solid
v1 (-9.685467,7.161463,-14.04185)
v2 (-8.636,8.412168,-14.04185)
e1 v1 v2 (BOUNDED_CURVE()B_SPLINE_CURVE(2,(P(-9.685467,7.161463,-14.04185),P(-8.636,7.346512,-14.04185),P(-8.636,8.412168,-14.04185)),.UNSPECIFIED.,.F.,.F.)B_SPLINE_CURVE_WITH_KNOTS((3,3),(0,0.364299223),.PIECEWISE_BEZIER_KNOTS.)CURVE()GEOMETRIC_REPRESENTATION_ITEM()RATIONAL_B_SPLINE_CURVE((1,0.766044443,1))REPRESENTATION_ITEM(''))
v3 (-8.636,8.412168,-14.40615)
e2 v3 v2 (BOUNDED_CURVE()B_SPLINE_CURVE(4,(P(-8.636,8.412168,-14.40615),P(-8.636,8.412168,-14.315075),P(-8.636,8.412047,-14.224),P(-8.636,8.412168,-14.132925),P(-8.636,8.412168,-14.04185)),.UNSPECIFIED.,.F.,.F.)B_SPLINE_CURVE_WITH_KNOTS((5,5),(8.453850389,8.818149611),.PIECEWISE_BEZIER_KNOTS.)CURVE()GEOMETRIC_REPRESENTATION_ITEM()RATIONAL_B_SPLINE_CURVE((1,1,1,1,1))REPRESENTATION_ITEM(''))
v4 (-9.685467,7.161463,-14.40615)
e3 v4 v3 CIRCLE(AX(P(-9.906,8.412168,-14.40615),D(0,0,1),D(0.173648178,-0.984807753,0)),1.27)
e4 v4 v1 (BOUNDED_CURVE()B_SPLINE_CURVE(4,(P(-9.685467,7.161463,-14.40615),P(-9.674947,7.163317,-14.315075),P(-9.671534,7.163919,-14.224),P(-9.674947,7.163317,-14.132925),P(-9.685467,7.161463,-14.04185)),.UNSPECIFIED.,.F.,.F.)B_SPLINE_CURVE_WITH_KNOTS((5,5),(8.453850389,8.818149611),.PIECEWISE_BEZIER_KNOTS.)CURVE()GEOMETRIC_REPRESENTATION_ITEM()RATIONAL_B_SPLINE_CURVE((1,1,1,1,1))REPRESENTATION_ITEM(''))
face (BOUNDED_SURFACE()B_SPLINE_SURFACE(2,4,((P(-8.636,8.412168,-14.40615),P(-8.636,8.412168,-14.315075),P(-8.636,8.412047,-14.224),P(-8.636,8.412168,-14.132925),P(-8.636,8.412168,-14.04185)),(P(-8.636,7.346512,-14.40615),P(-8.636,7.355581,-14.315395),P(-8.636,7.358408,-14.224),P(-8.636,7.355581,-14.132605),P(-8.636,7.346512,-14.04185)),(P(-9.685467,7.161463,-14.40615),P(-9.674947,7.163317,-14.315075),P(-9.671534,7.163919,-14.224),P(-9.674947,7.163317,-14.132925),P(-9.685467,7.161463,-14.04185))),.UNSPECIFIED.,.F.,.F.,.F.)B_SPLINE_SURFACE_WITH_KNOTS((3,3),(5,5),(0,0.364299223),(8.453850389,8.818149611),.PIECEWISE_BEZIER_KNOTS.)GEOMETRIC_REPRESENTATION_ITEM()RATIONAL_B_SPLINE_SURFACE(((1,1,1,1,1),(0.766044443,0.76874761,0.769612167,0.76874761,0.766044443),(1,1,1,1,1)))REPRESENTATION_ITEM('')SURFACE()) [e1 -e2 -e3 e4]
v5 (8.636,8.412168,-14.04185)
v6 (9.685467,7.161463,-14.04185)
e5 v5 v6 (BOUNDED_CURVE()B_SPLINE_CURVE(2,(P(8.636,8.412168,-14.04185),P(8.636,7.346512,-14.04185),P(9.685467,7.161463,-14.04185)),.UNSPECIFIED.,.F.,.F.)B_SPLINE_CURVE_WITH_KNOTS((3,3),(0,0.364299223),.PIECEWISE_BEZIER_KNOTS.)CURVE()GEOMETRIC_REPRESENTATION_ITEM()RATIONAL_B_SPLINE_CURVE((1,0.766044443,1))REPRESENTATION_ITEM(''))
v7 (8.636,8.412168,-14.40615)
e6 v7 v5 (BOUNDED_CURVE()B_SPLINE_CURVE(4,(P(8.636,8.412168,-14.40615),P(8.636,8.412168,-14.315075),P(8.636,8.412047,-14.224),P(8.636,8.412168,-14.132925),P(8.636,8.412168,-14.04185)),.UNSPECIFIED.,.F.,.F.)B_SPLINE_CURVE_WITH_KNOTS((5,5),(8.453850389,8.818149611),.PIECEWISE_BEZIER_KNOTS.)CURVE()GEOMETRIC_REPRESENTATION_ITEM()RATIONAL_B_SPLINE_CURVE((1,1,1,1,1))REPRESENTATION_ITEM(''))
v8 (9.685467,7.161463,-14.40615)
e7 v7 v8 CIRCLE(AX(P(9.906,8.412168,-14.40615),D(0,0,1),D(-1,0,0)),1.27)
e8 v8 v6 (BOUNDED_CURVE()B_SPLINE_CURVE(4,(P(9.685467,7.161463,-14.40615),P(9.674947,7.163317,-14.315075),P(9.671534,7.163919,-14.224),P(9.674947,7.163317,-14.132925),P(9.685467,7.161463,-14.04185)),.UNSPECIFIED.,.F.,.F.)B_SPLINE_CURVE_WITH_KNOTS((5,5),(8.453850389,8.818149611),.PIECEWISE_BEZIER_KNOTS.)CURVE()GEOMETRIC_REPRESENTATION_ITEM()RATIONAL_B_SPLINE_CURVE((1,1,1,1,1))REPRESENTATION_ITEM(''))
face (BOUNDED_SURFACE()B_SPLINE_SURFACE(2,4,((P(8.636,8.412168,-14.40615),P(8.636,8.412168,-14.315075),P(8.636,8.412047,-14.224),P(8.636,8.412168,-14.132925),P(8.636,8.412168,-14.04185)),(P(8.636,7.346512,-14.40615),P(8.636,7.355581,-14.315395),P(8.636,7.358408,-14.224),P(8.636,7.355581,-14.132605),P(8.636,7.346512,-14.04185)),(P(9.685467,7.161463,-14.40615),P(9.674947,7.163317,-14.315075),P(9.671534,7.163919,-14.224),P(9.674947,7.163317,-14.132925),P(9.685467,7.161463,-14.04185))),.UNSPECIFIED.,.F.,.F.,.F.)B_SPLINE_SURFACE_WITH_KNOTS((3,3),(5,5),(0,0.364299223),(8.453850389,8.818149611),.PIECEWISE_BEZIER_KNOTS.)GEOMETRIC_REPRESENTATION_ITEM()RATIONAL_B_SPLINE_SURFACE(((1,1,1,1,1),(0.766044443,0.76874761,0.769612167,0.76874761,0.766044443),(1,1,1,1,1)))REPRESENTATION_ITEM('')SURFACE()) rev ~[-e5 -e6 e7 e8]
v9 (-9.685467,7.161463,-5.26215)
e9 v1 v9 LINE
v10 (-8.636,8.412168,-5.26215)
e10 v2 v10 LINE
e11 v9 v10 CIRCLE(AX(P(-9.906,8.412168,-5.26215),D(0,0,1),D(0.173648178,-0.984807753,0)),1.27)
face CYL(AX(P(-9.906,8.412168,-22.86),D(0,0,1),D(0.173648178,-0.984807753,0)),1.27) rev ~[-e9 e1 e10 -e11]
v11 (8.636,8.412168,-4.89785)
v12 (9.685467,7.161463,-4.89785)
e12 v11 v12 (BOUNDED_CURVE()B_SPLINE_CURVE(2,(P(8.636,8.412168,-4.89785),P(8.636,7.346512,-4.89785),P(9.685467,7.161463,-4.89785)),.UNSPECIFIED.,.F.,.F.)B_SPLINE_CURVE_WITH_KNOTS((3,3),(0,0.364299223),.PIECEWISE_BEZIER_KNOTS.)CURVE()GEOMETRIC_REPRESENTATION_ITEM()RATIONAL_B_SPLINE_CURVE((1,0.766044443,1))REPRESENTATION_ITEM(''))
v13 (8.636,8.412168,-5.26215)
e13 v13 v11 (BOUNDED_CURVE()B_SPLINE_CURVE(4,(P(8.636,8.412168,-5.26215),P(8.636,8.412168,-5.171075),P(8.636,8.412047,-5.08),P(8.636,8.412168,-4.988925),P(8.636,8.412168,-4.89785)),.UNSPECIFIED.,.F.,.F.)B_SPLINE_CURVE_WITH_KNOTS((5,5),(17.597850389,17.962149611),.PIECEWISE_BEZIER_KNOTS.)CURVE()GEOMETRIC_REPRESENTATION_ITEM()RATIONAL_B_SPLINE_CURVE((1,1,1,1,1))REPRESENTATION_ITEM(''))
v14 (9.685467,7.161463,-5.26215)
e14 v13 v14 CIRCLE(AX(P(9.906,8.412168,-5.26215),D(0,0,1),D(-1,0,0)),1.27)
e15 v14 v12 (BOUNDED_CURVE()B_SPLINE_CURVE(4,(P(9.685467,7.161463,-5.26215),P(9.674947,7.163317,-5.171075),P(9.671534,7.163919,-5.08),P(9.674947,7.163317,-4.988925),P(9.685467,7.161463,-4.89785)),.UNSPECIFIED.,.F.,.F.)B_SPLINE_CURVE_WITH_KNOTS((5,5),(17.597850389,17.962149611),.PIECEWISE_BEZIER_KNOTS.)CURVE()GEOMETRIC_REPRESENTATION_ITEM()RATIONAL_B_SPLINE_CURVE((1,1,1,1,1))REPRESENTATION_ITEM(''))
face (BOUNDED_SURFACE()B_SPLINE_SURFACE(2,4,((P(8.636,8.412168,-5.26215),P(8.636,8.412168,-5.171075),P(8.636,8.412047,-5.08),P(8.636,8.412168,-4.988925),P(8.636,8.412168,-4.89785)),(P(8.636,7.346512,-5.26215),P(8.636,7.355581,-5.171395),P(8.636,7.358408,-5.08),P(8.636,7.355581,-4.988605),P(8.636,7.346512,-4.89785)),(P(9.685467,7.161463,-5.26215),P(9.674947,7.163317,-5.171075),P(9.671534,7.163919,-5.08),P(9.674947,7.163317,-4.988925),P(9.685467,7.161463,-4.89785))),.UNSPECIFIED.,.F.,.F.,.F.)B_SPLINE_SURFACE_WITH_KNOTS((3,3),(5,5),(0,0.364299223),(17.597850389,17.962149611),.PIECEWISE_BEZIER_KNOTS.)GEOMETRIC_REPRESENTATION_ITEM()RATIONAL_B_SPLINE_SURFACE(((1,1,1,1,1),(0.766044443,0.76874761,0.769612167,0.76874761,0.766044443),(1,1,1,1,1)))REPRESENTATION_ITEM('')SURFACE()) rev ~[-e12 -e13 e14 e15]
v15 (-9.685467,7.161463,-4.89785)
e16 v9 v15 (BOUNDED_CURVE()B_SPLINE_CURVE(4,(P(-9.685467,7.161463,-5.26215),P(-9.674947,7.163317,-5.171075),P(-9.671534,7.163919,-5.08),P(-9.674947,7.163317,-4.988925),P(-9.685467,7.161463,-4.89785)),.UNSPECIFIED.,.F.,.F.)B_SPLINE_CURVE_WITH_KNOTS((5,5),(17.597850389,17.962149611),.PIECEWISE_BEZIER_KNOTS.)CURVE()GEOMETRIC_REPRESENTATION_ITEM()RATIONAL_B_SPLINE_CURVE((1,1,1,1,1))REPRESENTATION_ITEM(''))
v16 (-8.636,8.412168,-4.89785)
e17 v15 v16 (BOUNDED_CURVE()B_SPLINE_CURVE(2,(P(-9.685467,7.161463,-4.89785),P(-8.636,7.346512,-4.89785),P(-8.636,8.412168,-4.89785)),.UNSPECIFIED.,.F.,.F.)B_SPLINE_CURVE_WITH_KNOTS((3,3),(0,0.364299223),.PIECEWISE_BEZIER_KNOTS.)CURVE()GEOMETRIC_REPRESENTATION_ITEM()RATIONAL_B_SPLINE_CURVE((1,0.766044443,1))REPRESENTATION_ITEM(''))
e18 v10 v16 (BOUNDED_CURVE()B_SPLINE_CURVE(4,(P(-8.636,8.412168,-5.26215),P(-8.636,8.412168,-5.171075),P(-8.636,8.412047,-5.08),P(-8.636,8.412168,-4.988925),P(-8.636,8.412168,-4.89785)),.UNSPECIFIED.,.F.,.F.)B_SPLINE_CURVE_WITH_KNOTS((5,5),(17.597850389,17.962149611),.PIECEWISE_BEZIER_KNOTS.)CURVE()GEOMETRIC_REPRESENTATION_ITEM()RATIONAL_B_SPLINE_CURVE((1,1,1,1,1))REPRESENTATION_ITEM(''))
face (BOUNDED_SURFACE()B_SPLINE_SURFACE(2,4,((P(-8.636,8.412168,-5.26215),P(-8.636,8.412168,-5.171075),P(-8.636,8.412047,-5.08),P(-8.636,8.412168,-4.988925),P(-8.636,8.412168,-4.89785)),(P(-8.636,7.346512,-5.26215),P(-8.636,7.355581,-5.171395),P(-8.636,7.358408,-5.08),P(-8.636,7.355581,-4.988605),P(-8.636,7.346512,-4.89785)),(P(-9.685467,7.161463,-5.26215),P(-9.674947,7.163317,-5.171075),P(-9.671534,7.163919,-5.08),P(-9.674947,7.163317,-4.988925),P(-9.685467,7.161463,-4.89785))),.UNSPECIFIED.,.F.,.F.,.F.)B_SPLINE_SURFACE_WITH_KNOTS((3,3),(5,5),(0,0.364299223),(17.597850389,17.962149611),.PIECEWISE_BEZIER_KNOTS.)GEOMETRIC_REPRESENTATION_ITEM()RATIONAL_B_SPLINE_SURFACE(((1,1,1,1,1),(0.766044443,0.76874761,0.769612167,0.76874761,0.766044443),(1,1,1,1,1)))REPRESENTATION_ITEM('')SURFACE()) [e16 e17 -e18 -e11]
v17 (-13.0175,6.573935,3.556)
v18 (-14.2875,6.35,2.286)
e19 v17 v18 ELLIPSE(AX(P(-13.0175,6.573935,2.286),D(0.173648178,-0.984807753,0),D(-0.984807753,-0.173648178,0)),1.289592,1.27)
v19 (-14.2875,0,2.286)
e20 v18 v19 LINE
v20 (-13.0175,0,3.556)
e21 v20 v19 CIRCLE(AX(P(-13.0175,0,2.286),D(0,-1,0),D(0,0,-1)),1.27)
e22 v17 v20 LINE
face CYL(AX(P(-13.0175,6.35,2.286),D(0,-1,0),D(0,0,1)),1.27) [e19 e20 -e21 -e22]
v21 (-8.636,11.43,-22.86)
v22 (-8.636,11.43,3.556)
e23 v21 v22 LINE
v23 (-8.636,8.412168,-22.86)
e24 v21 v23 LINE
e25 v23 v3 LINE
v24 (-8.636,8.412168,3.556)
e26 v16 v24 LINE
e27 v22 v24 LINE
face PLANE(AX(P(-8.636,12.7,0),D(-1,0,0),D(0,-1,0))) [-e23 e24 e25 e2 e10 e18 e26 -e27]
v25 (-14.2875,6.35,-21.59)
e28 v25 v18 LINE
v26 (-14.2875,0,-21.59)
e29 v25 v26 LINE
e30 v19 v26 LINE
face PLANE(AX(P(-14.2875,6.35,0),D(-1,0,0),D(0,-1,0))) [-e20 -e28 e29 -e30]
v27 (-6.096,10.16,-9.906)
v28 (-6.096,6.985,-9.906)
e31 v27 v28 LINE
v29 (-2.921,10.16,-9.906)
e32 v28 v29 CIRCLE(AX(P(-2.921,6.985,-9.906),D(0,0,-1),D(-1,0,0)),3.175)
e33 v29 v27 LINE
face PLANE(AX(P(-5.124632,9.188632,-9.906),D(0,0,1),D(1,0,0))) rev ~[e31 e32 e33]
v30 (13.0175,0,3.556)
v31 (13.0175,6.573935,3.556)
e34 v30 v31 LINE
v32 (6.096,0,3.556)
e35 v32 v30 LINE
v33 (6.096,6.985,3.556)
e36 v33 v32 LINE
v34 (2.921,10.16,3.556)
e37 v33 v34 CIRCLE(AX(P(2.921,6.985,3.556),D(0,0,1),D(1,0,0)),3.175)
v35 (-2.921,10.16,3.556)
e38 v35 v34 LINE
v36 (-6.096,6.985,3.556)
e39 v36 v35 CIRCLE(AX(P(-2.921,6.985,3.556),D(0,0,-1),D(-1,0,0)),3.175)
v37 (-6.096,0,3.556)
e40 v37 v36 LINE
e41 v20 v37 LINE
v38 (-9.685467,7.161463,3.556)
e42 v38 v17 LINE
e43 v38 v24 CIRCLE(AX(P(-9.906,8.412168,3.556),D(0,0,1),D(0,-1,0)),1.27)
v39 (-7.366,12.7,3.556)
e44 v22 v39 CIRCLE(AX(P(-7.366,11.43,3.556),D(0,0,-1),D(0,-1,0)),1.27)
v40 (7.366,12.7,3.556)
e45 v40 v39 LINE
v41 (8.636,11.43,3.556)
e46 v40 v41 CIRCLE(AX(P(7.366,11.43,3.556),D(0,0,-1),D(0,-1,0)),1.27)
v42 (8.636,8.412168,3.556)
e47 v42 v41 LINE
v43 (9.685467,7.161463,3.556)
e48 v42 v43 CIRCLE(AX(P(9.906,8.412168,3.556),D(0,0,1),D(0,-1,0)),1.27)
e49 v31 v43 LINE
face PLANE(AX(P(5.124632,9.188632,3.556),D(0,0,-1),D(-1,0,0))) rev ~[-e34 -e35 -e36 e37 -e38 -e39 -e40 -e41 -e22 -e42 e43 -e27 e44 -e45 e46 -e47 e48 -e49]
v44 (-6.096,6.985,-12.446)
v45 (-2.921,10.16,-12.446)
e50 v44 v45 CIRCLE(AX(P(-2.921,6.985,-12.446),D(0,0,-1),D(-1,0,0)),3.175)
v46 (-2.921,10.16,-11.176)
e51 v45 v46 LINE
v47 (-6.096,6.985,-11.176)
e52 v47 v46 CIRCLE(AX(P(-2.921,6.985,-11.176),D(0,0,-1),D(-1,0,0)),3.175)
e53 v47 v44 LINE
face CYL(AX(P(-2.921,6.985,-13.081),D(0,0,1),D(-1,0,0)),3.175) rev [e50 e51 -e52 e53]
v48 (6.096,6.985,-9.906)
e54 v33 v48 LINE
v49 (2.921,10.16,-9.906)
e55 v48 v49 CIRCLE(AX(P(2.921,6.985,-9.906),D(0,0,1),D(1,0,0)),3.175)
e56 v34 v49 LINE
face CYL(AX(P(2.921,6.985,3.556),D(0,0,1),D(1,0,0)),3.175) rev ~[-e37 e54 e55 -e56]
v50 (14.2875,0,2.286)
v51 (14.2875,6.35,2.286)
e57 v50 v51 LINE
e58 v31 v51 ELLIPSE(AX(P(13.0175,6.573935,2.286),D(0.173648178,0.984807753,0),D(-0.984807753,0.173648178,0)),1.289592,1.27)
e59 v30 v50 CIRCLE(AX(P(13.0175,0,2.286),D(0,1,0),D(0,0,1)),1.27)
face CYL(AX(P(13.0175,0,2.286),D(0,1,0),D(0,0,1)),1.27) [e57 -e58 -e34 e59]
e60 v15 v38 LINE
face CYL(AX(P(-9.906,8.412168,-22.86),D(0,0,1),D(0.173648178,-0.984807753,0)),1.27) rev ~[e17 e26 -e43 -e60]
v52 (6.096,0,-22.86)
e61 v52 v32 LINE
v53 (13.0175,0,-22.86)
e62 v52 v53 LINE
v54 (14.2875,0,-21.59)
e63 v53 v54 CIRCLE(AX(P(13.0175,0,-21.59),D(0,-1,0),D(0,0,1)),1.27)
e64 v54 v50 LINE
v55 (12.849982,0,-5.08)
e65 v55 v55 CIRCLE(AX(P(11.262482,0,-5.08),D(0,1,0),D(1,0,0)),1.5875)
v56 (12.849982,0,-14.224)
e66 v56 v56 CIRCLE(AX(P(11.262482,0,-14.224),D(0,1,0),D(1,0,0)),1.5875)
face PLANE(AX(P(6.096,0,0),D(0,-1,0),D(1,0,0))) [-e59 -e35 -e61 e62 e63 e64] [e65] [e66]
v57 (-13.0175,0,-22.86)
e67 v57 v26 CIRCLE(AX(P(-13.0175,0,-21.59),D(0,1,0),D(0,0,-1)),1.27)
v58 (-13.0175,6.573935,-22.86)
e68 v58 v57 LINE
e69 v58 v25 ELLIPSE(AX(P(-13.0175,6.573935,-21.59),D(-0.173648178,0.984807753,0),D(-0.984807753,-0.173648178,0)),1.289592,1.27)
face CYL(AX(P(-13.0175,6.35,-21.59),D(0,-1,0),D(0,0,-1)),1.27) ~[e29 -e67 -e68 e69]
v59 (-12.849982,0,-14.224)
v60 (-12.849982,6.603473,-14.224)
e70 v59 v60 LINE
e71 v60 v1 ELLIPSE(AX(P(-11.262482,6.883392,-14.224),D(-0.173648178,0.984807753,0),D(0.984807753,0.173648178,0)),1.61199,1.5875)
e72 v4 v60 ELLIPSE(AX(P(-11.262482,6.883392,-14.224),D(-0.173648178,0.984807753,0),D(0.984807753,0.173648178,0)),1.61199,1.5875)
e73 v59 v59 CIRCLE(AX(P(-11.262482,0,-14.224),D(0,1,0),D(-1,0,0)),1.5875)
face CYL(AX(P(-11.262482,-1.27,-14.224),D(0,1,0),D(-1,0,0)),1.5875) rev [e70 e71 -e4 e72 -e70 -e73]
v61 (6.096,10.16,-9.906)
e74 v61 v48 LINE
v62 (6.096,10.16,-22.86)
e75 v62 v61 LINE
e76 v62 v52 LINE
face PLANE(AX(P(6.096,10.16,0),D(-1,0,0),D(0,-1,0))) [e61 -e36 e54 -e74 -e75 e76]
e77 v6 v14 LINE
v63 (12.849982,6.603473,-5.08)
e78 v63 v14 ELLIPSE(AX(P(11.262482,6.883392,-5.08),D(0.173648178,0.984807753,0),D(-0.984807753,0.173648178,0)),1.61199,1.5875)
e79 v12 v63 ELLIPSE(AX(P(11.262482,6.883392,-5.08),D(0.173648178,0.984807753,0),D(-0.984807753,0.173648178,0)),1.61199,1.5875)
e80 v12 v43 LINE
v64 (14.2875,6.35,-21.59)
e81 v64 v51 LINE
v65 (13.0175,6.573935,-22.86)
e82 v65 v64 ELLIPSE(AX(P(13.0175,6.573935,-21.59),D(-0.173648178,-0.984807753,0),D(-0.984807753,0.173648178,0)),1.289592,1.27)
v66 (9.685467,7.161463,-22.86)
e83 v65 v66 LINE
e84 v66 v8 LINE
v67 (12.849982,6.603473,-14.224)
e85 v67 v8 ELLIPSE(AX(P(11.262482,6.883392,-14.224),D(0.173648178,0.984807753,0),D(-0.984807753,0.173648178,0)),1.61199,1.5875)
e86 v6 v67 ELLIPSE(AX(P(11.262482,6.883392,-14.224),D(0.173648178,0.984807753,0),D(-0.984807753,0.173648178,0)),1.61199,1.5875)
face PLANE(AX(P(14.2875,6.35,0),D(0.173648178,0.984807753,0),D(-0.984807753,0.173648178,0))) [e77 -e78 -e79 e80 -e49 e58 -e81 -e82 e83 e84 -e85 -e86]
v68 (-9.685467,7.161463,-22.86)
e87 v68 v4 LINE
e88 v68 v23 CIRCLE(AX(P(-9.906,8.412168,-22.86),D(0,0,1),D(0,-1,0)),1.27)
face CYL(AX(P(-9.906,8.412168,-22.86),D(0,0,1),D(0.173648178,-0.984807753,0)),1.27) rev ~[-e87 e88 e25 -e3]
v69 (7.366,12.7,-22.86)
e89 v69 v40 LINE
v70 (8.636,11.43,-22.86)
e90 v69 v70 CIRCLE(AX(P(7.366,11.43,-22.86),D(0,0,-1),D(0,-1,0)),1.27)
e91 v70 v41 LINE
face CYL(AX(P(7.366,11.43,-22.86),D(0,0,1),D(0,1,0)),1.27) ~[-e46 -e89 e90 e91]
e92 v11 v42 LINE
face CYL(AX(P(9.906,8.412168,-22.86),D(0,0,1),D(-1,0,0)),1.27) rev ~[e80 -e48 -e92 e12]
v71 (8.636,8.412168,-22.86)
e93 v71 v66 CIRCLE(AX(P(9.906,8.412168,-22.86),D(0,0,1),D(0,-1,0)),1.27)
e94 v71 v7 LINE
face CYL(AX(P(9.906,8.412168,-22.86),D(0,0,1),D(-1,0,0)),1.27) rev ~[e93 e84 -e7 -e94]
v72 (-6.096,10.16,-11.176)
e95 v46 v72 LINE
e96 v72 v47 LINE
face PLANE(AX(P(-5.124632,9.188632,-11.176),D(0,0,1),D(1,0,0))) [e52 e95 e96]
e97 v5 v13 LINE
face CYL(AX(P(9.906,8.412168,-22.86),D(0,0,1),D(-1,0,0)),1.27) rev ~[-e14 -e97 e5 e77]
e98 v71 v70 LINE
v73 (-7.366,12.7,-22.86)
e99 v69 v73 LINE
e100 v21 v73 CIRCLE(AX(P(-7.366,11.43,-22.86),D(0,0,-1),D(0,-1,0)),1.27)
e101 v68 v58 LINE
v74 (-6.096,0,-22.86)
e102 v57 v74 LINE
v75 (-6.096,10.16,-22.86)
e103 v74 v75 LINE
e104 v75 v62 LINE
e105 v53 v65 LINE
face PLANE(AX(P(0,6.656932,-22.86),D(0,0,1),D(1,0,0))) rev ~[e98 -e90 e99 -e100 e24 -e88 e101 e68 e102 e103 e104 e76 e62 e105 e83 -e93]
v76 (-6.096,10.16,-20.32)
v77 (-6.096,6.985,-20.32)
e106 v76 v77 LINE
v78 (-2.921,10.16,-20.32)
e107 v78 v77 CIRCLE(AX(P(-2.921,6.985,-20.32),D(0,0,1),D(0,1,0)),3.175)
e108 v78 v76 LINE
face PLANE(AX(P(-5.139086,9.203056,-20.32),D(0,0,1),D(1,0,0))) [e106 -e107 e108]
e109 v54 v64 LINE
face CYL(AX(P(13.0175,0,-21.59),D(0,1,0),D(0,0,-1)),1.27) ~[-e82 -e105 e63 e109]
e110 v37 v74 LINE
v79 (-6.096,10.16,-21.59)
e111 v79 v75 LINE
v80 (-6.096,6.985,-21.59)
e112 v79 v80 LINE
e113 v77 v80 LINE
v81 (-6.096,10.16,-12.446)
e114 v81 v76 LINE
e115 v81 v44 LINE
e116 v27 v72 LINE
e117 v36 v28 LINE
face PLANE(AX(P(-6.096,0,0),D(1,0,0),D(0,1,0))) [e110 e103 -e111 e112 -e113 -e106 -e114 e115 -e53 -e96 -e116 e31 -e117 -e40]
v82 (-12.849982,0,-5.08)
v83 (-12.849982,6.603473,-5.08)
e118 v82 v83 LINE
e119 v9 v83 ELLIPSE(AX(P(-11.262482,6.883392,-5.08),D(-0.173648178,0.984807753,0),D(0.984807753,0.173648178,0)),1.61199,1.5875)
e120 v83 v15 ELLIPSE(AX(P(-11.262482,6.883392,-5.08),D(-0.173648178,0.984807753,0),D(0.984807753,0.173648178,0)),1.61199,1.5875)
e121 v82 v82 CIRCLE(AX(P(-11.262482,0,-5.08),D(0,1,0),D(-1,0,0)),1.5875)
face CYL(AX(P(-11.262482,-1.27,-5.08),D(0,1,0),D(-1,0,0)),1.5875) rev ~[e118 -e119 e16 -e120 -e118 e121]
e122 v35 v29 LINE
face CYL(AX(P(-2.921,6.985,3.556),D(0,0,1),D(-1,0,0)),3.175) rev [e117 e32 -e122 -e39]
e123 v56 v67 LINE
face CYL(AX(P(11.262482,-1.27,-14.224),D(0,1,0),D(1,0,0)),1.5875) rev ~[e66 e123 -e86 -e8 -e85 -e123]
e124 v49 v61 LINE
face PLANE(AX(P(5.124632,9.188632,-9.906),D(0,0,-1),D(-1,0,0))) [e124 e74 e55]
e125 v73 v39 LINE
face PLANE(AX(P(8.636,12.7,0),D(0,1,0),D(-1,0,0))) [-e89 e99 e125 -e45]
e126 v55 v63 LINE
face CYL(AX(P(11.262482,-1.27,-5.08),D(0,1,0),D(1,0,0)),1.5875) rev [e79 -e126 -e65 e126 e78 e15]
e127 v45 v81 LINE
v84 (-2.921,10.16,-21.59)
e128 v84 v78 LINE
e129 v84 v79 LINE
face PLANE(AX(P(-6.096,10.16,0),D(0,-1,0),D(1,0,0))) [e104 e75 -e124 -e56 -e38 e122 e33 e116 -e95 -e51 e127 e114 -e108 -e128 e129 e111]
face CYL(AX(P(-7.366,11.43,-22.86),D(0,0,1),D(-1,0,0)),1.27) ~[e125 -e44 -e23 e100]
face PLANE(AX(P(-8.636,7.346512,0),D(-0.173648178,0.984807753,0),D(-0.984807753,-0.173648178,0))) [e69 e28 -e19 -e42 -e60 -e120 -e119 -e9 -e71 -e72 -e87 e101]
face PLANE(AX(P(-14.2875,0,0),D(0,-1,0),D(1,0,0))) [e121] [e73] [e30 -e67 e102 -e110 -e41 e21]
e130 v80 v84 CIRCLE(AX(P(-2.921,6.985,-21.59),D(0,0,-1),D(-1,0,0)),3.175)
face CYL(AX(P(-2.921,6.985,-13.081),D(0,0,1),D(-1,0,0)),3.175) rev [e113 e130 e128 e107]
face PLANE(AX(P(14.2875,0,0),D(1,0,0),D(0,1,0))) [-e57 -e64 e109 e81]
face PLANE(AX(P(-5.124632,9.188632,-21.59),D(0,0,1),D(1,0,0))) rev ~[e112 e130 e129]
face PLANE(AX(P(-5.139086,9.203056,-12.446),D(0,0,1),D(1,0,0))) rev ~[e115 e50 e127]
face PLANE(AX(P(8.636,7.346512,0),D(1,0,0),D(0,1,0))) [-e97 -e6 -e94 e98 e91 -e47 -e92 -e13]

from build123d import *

# Parameters (mm, degrees)
BOSS_EXTRUDE1_DEPTH      = 3.556
BOSS_EXTRUDE1_DEPTH_BACK = 22.86
BOSS_EXTRUDE2_DEPTH      = 13.462
BOSS_EXTRUDE3_START      = -1.27
BOSS_EXTRUDE3_DEPTH      = 1.905
FILLET1_R                = 1.27
BOSS_EXTRUDE4_DEPTH      = 8.509
CUT_EXTRUDE1_DEPTH       = 7.874


with BuildPart() as part:
    # Sketch1 → Boss-Extrude1 (new body, two sides)
    with BuildSketch(Plane.XY) as boss_extrude1_sk:
        Polygon((-6.096, 10.16), (6.096, 10.16), (6.096, 0), (14.2875, 0), (14.2875, 6.35), (8.636, 7.346511931), (8.636, 12.7), (-8.636, 12.7), (-8.636, 7.346511931), (-14.2875, 6.35), (-14.2875, 0), (-6.096, 0), align=None)
    extrude(amount=BOSS_EXTRUDE1_DEPTH)
    extrude(boss_extrude1_sk.sketch, amount=-BOSS_EXTRUDE1_DEPTH_BACK)

    # Sketch2 → Boss-Extrude2 (add)
    with BuildSketch(Plane.XY.offset(3.556)):
        with BuildLine():
            Line((2.921, 10.16), (6.096, 10.16))
            Line((6.096, 10.16), (6.096, 6.985))
            ThreePointArc((6.096, 6.985), (5.16606403, 9.23006403), (2.921, 10.16))
        make_face()
        with BuildLine():
            Line((-6.096, 10.16), (-6.096, 6.985))
            ThreePointArc((-6.096, 6.985), (-5.16606403, 9.23006403), (-2.921, 10.16))
            Line((-2.921, 10.16), (-6.096, 10.16))
        make_face()
    extrude(amount=-BOSS_EXTRUDE2_DEPTH)

    # Sketch3 → Boss-Extrude3 (add)
    with BuildSketch(Plane.XY.offset(-9.906).offset(BOSS_EXTRUDE3_START)):
        with BuildLine():
            Line((-6.096, 10.16), (-6.096, 6.985))
            ThreePointArc((-6.096, 6.985), (-5.16606403, 9.23006403), (-2.921, 10.16))
            Line((-2.921, 10.16), (-6.096, 10.16))
        make_face()
    extrude(amount=-BOSS_EXTRUDE3_DEPTH)

    # Sketch6 → Cut-Revolve1 (revolve, cut)
    with BuildSketch(Plane.XY.offset(-5.08)):
        Polygon((11.262482277, -1.27), (12.849982277, -1.27), (12.849982277, 6.60347316), (12.849982277, 9.423392242), (11.262482277, 9.423392242), (11.262482277, 6.883392242), align=None)
    cut_revolve1 = revolve(axis=Axis((11.262482277, -1.27, -5.08), (0, -1, 0)), mode=Mode.SUBTRACT)

    # Mirror1: Cut-Revolve1 across plane
    add(cut_revolve1.mirror(Plane(origin=(0, 0, 0), x_dir=(0, 0, 1), z_dir=(1, 0, 0))), mode=Mode.SUBTRACT)

    # Mirror2: Cut-Revolve1 across plane
    add(cut_revolve1.mirror(Plane.XY.offset(-9.652)), mode=Mode.SUBTRACT)

    # Mirror2 copy 1 sketch → Mirror2 copy 1 (revolve, cut)
    with BuildSketch(Plane(origin=(0, 0, -14.224), x_dir=(-1, 0, 0), z_dir=(0, 0, -1))):
        Polygon((11.262482277, -1.27), (12.849982277, -1.27), (12.849982277, 6.60347316), (12.849982277, 9.423392242), (11.262482277, 9.423392242), (11.262482277, 6.883392242), align=None)
    revolve(axis=Axis((-11.262482277, -1.27, -14.224), (0, -1, 0)), mode=Mode.SUBTRACT)

    # Fillet1
    fillet1_edges = [part.edges().sort_by_distance(p)[0] for p in [
        (14.2875, 3.175, 3.556),
        (-8.636, 7.346511931, -9.652),
        (-8.636, 12.7, -9.652),
        (8.636, 12.7, -9.652),
        (8.636, 7.346511931, -9.652),
        (-14.2875, 3.175, -22.86),
        (14.2875, 3.175, -22.86),
        (-14.2875, 3.175, 3.556),
    ]]
    fillet(fillet1_edges, radius=FILLET1_R)

    # Sketch4 → Boss-Extrude4 (add)
    with BuildSketch(Plane.XY.offset(-13.081)):
        with BuildLine():
            Line((-6.096, 10.16), (-6.096, 6.985))
            ThreePointArc((-6.096, 6.985), (-5.16606403, 9.23006403), (-2.921, 10.16))
            Line((-2.921, 10.16), (-6.096, 10.16))
        make_face()
    extrude(amount=-BOSS_EXTRUDE4_DEPTH)

    # Sketch9 → Cut-Extrude1 (cut)
    with BuildSketch(Plane.XY.offset(-12.446)):
        Polygon((-6.096, 6.985), (-5.987323019, 7.808582504), (-5.675836906, 8.563448168), (-5.16606403, 9.23006403), (-4.513044207, 9.732002047), (-3.747031782, 10.05066412), (-2.921, 10.16), (-6.096, 10.16), align=None)
    extrude(amount=-CUT_EXTRUDE1_DEPTH, mode=Mode.SUBTRACT)


solid = part.part
